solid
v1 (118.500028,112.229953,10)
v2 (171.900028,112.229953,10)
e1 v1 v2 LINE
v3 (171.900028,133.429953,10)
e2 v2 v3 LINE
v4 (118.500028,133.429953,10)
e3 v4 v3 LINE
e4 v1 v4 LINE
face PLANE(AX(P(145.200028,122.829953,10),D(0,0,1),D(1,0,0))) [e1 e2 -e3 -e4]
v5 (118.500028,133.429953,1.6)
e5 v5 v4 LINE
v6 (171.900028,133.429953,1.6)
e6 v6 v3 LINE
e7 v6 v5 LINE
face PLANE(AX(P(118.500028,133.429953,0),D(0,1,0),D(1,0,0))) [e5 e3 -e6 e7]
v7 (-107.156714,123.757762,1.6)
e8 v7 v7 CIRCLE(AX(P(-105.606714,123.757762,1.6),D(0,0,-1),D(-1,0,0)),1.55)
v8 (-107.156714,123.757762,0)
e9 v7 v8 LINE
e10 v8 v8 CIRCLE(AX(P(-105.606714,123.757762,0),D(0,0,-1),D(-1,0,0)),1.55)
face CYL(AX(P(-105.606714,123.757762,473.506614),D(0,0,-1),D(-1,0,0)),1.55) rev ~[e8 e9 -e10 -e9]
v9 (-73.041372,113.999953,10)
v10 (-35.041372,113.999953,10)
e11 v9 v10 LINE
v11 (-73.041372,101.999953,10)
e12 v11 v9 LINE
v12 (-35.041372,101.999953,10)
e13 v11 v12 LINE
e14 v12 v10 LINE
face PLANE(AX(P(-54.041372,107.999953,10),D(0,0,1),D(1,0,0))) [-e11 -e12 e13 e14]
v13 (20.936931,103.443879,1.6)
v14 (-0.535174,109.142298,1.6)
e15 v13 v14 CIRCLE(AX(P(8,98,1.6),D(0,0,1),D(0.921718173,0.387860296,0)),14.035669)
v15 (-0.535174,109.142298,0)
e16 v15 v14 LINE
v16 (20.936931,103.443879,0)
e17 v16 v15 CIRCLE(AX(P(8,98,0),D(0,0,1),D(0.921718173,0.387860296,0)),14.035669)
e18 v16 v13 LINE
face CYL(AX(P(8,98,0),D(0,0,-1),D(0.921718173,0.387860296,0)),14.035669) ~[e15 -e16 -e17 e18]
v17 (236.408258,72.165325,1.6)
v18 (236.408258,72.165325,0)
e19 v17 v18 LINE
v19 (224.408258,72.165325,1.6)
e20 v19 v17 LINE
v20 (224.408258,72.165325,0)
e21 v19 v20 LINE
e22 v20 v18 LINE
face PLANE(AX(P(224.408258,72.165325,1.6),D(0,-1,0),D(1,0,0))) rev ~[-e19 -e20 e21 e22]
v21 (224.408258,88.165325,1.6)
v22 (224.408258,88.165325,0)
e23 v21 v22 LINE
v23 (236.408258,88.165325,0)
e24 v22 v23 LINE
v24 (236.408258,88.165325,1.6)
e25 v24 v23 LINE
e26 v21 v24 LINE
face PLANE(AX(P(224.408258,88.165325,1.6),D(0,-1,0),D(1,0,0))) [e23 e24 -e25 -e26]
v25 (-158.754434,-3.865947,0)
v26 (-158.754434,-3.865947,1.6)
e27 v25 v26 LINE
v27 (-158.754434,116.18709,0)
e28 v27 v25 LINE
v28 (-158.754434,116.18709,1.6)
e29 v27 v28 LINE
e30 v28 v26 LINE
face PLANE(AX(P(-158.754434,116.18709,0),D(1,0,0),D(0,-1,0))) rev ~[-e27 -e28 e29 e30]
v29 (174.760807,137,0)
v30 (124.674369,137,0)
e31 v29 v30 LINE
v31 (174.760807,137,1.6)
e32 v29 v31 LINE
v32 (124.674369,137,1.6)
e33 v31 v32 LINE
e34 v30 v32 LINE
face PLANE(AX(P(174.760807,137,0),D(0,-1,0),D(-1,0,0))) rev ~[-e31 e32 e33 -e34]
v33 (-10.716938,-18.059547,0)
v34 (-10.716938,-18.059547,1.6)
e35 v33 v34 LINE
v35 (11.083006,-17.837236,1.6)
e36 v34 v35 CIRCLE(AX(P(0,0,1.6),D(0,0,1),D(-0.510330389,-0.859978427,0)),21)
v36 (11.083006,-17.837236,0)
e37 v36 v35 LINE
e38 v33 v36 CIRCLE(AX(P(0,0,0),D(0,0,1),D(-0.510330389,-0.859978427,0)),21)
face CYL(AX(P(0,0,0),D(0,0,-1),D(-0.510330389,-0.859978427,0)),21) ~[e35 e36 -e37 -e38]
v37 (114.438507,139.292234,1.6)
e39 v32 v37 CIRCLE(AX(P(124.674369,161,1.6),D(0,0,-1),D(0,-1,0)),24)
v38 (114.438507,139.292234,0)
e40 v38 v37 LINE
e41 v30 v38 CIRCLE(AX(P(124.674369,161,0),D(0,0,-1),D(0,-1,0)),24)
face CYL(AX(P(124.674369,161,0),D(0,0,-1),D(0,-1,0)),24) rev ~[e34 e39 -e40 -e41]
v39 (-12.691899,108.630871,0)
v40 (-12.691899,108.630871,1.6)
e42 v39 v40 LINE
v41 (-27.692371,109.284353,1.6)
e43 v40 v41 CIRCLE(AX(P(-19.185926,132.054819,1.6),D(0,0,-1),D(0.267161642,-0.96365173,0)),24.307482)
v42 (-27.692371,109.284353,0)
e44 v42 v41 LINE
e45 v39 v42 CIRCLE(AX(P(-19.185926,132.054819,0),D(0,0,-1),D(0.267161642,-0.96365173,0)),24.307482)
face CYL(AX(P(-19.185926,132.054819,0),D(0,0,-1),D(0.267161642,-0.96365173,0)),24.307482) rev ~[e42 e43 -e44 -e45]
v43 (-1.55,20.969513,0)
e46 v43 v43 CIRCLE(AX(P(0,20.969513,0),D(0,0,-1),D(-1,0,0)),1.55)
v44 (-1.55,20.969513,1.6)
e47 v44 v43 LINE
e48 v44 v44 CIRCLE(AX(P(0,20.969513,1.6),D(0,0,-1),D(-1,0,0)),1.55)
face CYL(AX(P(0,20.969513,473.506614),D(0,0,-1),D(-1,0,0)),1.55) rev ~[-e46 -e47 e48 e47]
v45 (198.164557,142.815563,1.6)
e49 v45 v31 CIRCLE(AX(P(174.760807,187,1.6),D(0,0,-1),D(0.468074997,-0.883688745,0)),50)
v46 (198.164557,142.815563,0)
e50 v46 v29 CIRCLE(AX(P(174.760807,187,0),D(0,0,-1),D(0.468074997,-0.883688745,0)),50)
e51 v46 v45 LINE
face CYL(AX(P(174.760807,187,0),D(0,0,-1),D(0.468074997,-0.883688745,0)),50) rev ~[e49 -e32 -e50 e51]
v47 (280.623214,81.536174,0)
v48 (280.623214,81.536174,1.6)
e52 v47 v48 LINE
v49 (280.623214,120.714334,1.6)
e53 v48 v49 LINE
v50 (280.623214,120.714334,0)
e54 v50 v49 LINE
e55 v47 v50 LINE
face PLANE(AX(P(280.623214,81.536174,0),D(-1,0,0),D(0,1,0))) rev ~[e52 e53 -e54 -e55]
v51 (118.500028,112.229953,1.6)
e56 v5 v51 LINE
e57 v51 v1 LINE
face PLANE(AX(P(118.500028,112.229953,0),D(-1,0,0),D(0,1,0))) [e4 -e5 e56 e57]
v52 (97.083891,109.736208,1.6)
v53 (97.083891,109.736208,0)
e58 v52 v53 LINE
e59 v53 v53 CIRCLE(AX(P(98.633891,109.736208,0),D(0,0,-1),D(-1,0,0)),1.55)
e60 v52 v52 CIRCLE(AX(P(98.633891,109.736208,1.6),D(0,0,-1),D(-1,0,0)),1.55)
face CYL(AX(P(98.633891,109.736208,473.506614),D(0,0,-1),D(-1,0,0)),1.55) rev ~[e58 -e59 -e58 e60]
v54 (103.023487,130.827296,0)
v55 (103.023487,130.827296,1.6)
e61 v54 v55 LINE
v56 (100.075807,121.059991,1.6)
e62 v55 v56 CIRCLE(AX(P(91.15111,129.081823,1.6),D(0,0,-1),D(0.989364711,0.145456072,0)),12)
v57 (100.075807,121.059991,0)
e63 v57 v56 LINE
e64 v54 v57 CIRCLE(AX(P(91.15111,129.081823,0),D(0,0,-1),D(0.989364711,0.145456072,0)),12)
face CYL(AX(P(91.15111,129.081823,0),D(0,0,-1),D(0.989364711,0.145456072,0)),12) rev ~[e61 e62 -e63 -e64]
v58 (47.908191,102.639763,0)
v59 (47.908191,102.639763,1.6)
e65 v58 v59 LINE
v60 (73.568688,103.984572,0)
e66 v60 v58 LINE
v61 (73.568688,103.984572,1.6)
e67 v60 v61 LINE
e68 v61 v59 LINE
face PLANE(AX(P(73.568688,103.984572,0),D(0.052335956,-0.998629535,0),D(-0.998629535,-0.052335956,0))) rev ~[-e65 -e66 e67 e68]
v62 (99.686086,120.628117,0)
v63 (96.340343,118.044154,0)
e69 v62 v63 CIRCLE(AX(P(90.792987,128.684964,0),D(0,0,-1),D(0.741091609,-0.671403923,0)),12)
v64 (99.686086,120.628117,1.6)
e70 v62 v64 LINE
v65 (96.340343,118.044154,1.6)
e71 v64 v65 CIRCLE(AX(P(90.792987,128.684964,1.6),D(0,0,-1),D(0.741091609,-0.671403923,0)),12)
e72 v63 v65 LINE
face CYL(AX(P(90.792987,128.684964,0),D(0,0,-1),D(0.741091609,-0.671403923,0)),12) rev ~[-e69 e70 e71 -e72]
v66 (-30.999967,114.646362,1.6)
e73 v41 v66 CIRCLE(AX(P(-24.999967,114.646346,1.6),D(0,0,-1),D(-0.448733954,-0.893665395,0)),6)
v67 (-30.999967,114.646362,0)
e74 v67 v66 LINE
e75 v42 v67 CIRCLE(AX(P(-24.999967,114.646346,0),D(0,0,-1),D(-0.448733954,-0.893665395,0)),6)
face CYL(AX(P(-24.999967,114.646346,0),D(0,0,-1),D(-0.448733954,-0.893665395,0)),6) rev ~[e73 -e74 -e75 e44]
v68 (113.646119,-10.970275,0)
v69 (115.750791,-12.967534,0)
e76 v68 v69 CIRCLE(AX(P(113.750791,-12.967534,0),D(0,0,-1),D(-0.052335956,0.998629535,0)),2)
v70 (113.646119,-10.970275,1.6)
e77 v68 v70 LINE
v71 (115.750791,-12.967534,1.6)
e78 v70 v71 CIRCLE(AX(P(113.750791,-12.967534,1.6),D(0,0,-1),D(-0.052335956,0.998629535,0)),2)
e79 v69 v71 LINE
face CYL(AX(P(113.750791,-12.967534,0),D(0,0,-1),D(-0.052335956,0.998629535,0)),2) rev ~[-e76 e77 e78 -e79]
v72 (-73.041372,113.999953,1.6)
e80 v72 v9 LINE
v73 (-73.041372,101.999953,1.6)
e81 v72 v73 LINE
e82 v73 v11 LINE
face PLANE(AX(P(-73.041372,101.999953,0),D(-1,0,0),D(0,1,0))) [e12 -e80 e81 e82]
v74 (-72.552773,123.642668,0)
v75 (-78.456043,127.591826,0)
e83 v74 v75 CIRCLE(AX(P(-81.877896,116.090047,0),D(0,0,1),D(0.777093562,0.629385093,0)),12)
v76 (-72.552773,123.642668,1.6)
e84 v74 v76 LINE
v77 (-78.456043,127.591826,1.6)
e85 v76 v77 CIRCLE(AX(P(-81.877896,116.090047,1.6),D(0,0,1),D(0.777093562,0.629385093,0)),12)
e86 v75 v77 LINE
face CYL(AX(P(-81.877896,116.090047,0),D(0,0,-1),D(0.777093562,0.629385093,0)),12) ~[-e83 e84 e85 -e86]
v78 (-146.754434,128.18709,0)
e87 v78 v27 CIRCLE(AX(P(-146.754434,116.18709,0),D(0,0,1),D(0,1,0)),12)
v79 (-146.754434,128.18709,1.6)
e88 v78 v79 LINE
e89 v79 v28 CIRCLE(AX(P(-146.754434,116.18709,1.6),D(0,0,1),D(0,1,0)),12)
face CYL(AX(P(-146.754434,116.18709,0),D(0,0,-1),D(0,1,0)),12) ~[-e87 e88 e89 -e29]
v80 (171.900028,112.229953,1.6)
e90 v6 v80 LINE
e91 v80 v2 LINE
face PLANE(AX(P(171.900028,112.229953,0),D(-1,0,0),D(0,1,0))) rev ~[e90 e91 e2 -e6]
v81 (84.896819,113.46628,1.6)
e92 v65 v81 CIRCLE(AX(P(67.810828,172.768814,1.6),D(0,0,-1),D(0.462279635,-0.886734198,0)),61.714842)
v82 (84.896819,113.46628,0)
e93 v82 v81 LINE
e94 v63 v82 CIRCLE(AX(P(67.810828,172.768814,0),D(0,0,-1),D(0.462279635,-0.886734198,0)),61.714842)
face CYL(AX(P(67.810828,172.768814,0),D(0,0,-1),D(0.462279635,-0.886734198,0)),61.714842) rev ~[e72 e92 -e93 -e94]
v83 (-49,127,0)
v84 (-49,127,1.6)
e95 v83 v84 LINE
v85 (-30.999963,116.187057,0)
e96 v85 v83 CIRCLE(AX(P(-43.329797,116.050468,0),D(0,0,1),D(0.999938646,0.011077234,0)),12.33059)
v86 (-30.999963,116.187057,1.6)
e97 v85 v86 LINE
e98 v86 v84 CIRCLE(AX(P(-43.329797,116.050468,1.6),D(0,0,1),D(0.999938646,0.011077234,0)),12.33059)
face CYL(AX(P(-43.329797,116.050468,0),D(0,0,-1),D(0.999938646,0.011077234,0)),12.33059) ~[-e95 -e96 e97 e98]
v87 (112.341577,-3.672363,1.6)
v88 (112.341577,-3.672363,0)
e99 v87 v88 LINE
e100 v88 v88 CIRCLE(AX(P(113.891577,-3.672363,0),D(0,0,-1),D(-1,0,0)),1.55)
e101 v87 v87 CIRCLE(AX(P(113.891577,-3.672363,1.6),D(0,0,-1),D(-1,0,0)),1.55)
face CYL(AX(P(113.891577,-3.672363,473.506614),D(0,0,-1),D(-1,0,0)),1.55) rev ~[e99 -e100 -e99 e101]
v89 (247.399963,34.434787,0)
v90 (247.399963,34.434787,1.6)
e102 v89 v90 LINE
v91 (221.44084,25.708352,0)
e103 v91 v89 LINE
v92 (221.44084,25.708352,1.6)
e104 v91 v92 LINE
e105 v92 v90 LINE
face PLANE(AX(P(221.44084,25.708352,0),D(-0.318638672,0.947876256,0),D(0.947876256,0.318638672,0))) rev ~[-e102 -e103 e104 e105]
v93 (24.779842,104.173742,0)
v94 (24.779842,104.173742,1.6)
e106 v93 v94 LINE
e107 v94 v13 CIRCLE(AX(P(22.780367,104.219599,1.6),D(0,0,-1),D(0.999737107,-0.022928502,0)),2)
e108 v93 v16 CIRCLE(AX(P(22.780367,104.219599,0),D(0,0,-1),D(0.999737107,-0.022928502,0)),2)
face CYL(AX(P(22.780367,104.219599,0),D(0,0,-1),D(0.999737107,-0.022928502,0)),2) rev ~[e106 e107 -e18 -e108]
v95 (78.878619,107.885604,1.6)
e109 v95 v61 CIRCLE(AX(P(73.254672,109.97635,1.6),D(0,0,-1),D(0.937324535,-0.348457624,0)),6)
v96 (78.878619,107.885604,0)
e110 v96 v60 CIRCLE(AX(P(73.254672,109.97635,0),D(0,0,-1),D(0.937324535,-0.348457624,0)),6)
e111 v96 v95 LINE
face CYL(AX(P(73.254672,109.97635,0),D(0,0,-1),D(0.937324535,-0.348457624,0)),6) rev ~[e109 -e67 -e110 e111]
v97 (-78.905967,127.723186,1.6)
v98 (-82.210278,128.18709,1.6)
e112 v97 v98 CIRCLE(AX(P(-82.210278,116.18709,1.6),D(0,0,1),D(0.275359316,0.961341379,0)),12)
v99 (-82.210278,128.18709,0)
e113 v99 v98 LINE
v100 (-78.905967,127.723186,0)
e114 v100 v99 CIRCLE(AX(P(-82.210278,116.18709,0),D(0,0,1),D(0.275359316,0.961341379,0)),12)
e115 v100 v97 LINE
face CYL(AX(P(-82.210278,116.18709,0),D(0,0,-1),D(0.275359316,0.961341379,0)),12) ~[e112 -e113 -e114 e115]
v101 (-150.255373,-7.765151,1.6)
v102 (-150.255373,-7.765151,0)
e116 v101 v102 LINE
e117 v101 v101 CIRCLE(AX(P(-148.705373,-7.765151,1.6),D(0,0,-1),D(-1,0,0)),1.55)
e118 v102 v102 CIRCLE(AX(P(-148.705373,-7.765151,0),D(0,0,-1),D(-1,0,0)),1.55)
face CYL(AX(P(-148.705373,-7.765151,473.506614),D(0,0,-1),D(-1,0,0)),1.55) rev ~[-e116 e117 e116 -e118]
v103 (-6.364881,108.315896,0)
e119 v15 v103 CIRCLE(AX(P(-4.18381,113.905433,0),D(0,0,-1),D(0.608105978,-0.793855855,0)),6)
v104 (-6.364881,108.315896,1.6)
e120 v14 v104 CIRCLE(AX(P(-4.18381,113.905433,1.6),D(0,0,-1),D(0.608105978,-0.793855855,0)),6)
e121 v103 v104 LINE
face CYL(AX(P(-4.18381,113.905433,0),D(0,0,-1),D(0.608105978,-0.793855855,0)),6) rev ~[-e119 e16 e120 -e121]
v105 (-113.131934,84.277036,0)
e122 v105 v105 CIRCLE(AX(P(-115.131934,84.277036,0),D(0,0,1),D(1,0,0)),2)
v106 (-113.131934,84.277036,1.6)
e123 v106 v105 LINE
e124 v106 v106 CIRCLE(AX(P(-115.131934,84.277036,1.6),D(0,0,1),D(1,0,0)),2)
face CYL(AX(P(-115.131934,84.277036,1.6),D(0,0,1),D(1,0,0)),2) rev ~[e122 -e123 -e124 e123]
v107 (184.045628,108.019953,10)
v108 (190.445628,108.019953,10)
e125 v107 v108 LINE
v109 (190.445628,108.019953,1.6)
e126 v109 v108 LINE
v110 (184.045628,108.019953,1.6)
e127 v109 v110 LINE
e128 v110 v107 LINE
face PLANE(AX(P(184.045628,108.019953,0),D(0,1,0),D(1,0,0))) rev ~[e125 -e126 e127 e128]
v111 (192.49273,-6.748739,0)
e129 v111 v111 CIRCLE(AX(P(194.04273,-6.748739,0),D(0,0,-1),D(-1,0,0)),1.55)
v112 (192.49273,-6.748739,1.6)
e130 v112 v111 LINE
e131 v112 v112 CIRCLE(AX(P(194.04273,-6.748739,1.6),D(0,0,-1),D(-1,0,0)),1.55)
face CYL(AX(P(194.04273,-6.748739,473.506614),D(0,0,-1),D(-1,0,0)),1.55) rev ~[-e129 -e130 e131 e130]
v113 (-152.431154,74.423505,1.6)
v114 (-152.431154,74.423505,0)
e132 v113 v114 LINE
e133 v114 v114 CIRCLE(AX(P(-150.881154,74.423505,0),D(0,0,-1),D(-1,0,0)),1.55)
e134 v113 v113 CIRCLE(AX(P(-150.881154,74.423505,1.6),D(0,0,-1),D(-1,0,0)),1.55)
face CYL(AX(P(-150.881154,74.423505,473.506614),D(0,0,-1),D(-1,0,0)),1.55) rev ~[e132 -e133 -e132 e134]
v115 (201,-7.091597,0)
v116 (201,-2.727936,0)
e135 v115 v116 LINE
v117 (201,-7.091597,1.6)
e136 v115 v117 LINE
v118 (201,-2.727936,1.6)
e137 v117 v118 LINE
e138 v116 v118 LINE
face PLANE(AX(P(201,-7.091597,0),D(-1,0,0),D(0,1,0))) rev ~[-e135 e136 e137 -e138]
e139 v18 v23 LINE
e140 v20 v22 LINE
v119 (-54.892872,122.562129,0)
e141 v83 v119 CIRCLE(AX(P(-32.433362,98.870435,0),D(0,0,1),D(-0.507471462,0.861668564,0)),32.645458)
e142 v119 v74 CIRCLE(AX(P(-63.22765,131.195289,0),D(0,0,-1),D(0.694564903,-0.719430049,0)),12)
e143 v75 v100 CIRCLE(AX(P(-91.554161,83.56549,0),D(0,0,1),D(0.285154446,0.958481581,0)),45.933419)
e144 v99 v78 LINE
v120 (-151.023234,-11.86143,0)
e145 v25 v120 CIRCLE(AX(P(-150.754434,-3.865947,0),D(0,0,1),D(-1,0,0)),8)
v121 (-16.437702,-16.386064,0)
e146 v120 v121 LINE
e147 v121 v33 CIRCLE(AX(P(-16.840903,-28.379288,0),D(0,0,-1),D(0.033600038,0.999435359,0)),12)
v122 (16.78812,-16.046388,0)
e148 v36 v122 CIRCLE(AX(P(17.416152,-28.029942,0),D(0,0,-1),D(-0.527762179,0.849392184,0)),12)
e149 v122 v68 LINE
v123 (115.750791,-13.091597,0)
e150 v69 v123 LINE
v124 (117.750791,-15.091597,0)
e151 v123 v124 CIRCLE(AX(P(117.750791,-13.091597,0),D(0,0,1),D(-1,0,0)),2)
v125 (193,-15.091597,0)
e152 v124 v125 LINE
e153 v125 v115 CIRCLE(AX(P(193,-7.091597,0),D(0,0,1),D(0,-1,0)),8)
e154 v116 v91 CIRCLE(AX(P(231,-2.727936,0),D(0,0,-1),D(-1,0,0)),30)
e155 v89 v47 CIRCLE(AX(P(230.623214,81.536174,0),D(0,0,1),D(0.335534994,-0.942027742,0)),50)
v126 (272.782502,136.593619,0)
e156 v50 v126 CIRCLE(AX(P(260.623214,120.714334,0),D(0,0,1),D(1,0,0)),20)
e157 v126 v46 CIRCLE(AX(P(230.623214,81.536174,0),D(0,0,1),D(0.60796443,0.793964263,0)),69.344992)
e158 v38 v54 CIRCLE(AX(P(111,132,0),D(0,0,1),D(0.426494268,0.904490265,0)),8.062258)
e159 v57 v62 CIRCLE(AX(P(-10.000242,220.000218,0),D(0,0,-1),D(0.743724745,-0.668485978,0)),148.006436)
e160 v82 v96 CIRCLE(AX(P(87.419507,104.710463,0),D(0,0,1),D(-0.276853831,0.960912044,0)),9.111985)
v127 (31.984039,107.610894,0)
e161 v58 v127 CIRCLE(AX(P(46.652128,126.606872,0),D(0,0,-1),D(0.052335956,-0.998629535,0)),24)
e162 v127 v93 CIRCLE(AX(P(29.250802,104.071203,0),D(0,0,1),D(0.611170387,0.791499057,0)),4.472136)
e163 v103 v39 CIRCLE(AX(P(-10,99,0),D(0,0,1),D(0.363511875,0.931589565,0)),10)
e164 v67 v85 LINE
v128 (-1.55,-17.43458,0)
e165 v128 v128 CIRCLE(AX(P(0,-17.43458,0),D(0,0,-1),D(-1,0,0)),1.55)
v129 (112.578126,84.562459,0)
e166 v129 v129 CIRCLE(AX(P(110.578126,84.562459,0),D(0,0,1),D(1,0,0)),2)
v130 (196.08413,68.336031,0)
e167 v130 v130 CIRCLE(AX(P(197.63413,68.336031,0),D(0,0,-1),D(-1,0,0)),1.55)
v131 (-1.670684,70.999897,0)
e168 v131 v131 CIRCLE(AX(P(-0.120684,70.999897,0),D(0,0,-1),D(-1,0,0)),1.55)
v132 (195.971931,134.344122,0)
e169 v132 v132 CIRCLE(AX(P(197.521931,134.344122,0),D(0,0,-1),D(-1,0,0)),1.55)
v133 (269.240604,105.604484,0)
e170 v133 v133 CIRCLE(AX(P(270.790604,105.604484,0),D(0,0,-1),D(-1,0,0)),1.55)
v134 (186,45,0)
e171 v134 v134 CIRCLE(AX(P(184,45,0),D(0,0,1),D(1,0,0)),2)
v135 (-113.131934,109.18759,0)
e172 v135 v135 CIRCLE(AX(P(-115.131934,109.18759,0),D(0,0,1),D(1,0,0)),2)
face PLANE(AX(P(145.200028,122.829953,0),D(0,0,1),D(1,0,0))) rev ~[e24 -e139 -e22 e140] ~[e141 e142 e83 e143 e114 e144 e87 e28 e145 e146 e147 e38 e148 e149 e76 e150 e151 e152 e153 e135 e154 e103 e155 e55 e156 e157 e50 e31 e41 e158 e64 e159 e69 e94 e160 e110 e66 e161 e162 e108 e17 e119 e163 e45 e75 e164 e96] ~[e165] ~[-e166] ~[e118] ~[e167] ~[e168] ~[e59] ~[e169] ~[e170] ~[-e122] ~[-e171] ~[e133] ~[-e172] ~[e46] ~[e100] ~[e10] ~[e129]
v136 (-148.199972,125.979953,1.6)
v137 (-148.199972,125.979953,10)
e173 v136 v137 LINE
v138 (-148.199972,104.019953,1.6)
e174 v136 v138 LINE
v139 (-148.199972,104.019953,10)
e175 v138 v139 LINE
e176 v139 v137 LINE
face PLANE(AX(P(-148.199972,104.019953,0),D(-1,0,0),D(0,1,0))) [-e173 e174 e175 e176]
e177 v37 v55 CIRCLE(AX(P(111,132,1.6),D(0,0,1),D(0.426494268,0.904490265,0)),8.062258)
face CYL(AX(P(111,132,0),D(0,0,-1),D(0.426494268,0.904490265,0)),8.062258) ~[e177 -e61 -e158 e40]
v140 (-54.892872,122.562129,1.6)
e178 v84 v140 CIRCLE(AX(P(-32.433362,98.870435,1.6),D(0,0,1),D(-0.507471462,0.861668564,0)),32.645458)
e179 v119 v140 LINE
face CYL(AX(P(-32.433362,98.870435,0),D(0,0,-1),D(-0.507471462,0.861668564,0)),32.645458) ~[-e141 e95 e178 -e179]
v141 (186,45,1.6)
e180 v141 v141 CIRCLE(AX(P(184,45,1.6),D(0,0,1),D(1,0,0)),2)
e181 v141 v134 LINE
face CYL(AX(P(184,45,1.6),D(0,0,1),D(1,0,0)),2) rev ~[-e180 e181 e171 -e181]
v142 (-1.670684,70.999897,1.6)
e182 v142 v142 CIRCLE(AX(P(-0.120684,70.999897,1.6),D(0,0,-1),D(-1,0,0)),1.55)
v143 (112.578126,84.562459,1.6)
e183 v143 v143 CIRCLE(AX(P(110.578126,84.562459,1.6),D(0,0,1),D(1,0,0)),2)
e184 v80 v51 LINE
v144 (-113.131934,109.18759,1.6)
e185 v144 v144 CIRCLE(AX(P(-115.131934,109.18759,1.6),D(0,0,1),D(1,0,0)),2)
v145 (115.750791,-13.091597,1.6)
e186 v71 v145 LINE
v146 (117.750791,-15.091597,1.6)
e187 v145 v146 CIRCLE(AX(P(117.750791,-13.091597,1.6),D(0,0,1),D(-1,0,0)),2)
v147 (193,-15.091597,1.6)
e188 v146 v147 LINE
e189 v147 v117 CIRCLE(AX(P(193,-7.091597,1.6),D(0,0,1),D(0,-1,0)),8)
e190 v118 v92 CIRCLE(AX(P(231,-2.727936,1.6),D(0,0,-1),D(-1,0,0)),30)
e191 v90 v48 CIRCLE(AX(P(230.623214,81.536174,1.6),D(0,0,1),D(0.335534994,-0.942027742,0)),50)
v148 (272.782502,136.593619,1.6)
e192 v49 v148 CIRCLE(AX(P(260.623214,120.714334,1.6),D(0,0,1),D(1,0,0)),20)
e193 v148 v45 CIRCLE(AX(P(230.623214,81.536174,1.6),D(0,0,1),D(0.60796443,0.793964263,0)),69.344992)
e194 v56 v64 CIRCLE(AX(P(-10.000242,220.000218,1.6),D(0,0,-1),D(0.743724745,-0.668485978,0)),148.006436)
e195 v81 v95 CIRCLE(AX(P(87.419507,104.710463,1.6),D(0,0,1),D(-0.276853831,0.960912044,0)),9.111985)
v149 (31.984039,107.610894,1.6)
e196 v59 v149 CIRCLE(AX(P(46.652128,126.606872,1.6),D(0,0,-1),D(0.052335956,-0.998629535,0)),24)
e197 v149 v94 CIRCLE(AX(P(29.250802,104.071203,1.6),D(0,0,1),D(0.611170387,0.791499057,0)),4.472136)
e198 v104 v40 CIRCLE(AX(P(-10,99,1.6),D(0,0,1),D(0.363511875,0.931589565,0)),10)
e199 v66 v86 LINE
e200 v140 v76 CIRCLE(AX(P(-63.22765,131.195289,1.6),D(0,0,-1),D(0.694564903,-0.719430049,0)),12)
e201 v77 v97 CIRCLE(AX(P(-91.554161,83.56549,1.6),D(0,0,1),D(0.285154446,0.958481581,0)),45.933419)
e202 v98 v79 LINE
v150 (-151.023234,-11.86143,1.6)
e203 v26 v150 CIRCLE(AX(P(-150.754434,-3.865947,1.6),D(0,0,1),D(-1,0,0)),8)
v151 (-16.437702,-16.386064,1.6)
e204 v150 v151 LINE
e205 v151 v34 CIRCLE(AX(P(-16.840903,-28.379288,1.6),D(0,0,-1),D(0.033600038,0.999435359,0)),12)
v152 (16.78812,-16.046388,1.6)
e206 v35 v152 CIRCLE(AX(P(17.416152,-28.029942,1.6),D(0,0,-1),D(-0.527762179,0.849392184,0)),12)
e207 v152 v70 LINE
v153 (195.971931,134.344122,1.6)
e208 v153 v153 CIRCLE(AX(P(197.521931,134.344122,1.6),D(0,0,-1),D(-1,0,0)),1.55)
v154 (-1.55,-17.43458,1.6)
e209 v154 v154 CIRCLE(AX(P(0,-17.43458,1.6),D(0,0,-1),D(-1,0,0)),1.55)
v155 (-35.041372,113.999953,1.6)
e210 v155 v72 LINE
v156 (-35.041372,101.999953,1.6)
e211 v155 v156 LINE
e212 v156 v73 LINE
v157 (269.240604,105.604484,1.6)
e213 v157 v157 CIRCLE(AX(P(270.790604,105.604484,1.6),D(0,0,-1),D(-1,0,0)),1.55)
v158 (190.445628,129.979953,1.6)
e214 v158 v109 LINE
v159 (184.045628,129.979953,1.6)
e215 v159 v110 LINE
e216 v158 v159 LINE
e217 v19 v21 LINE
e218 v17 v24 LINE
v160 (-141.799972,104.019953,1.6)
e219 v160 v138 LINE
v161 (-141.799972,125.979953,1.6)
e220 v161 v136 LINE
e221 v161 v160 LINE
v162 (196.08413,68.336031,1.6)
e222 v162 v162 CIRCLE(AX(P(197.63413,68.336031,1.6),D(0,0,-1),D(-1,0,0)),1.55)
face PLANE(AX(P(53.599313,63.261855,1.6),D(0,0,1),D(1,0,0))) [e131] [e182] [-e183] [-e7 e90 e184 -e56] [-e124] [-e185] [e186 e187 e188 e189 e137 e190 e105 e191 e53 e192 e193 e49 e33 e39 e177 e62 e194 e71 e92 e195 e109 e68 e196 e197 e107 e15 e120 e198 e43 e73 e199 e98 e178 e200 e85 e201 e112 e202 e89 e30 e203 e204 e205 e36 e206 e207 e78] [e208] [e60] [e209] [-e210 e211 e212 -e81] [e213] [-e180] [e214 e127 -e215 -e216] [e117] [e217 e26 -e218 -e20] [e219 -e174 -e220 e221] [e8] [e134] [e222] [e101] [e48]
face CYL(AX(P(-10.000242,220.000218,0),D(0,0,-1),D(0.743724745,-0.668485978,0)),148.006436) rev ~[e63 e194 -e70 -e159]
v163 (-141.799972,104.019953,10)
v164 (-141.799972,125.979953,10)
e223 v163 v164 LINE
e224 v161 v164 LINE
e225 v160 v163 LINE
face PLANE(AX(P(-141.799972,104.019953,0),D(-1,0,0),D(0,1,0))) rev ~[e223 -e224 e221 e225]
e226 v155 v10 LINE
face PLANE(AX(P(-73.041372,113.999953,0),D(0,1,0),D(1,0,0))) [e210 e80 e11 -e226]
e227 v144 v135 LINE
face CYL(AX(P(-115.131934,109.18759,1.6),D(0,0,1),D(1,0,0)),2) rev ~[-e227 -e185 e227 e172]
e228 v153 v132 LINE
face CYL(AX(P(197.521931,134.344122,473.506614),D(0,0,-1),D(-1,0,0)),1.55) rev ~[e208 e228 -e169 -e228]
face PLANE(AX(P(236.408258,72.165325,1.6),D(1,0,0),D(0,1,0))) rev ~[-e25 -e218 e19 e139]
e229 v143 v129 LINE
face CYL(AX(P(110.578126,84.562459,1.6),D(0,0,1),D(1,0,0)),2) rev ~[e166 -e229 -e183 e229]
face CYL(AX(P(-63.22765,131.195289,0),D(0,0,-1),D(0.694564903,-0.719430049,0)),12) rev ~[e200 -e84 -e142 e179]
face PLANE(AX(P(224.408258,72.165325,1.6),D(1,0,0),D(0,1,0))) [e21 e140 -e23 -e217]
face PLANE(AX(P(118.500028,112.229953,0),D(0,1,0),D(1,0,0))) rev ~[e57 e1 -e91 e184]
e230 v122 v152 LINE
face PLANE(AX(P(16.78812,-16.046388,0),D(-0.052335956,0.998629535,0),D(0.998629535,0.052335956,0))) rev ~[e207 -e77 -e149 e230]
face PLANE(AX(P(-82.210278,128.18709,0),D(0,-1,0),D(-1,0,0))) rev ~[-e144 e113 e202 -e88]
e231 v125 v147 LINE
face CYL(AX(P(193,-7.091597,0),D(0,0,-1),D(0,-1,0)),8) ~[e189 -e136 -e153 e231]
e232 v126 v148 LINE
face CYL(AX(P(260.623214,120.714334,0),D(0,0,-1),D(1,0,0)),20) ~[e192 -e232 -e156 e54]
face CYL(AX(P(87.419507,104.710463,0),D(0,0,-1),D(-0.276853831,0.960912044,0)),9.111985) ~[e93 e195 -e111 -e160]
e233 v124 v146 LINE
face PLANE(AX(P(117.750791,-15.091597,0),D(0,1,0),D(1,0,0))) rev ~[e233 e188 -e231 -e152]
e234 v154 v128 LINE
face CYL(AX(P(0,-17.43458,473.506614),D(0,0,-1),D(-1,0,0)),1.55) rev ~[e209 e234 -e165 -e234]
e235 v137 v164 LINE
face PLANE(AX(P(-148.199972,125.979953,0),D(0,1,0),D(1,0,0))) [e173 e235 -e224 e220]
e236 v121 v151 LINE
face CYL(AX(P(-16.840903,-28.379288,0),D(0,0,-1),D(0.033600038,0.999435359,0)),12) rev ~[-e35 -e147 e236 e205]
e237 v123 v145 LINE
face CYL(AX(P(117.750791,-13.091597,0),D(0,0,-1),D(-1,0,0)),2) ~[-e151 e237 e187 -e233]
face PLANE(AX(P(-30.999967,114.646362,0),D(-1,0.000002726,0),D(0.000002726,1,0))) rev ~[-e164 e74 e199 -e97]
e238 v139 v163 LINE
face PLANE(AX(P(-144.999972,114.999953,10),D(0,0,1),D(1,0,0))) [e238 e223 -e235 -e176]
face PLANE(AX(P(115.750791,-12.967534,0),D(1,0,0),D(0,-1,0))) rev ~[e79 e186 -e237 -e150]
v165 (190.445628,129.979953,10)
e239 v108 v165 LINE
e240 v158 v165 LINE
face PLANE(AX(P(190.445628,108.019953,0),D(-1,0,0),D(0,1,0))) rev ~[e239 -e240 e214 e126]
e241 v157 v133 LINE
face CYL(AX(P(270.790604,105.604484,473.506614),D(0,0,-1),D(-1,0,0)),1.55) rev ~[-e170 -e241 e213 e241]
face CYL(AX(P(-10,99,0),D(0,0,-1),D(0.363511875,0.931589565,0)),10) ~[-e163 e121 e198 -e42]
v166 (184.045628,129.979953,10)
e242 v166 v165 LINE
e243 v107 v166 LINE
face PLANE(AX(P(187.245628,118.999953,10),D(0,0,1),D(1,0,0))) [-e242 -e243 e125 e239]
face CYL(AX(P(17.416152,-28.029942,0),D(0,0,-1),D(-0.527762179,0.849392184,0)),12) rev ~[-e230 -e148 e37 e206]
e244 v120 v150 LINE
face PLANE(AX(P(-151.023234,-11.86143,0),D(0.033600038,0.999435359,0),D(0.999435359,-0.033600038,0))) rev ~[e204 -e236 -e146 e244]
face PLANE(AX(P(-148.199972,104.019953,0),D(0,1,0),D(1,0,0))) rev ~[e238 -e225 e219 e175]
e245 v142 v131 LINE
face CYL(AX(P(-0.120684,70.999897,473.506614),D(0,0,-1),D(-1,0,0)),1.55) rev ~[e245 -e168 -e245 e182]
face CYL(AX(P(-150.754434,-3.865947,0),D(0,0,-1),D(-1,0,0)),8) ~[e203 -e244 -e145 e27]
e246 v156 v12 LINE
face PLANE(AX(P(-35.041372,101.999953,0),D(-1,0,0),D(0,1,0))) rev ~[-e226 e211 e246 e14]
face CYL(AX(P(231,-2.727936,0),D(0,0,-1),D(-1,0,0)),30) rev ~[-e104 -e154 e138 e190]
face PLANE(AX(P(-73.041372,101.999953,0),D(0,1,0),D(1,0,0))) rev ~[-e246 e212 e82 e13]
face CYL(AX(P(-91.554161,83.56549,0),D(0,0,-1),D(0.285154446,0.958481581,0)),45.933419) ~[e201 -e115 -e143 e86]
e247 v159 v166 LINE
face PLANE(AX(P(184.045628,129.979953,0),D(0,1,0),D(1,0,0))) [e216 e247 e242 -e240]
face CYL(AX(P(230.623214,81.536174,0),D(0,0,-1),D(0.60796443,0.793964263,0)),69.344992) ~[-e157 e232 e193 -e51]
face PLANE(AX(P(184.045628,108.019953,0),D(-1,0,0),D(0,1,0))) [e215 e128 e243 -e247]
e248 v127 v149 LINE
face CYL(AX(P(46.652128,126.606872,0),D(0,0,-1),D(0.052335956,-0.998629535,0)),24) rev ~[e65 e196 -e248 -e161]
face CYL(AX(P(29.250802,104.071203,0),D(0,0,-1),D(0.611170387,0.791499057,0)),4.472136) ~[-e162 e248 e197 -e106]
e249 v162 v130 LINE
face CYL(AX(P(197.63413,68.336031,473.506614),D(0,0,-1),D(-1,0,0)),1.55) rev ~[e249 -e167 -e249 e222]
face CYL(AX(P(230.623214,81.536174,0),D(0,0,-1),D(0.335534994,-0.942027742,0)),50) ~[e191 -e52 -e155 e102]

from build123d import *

# Parameters (mm, degrees)
ESTRUSIONE_ESTRUSIONE2_DEPTH = 1.6
SCHIZZO2_R                   = 2
TAGLIO_ESTRUSIONE1_DEPTH     = 10
SCHIZZO8_W                   = 53.4
SCHIZZO8_H                   = 21.2
SCHIZZO8_W_2                 = 6.4
SCHIZZO8_H_2                 = 21.96
SCHIZZO8_W_3                 = 38
SCHIZZO8_H_3                 = 12
ESTRUSIONE_ESTRUSIONE3_DEPTH = 10
FORO_3_1_3_1_1_D             = 3.1
SCHIZZO12_W                  = 12
SCHIZZO12_H                  = 16
TAGLIO_ESTRUSIONE2_DEPTH     = 10


with BuildPart() as part:
    # bordo2 → Estrusione-Estrusione2 (new body)
    with BuildSketch(Plane.XY):
        with BuildLine():
            Line((-158.754433684, 116.187089821), (-158.754433684, -3.865947122))
            ThreePointArc((-158.754433684, -3.865947122), (-156.505538032, -9.426954116), (-151.023233988, -11.861429997))
            Line((-151.023233988, -11.861429997), (-16.437702381, -16.386063763))
            ThreePointArc((-16.437702381, -16.386063763), (-13.471762347, -16.861957987), (-10.716938169, -18.059546957))
            ThreePointArc((-10.716938169, -18.059546957), (0.214142299, -20.99890814), (11.083005754, -17.837235869))
            ThreePointArc((11.083005754, -17.837235869), (13.822228864, -16.580762318), (16.788120425, -16.046387663))
            Line((16.788120425, -16.046387663), (113.64611863, -10.970275071))
            ThreePointArc((113.64611863, -10.970275071), (115.127499694, -11.516785399), (115.750790543, -12.967534141))
            Line((115.750790543, -12.967534141), (115.750790543, -13.091597346))
            ThreePointArc((115.750790543, -13.091597346), (116.336576981, -14.505810909), (117.750790543, -15.091597346))
            Line((117.750790543, -15.091597346), (193, -15.091597346))
            ThreePointArc((193, -15.091597346), (198.656854249, -12.748451596), (201, -7.091597346))
            Line((201, -7.091597346), (201, -2.727936118))
            ThreePointArc((201, -2.727936118), (206.640455622, 14.782420751), (221.440839847, 25.708351564))
            Line((221.440839847, 25.708351564), (247.399963271, 34.43478664))
            ThreePointArc((247.399963271, 34.43478664), (271.481734612, 52.716367083), (280.623213556, 81.536173764))
            Line((280.623213556, 81.536173764), (280.623213556, 120.714334058))
            ThreePointArc((280.623213556, 120.714334058), (278.556224626, 129.569113216), (272.782502161, 136.593619325))
            ThreePointArc((272.782502161, 136.593619325), (236.38547949, 150.641341579), (198.16455661, 142.815562768))
            ThreePointArc((198.16455661, 142.815562768), (186.818545747, 138.475666611), (174.760806771, 137))
            Line((174.760806771, 137), (124.67436916, 137))
            ThreePointArc((124.67436916, 137), (119.429676247, 137.580068398), (114.43850672, 139.292233645))
            ThreePointArc((114.43850672, 139.292233645), (106.197691209, 138.475942424), (103.023486693, 130.82729566))
            ThreePointArc((103.023486693, 130.82729566), (102.639348768, 125.614781735), (100.075807145, 121.059991103))
            ThreePointArc((100.075807145, 121.059991103), (99.881158934, 120.843862569), (99.686086367, 120.628116972))
            ThreePointArc((99.686086367, 120.628116972), (98.127896826, 119.187643435), (96.340342687, 118.044153663))
            ThreePointArc((96.340342687, 118.044153663), (90.73314925, 115.468824104), (84.896818522, 113.466279669))
            ThreePointArc((84.896818522, 113.466279669), (81.223809571, 111.391901357), (78.878619087, 107.885603918))
            ThreePointArc((78.878619087, 107.885603918), (76.807046099, 105.140996793), (73.568687614, 103.984572456))
            Line((73.568687614, 103.984572456), (47.908191181, 102.639762823))
            ThreePointArc((47.908191181, 102.639762823), (39.500299817, 103.697237213), (31.984038936, 107.610894282))
            ThreePointArc((31.984038936, 107.610894282), (27.325075003, 108.10748534), (24.779841609, 104.173742266))
            ThreePointArc((24.779841609, 104.173742266), (23.153545862, 102.254723235), (20.936931048, 103.443878677))
            ThreePointArc((20.936931048, 103.443878677), (11.600258518, 111.566065701), (-0.535174134, 109.142297901))
            ThreePointArc((-0.535174134, 109.142297901), (-3.341686704, 107.964824618), (-6.364881252, 108.315895646))
            ThreePointArc((-6.364881252, 108.315895646), (-9.502789582, 108.987631441), (-12.691899138, 108.630871146))
            ThreePointArc((-12.691899138, 108.630871146), (-20.24385632, 107.770369186), (-27.692371148, 109.284353259))
            ThreePointArc((-27.692371148, 109.284353259), (-30.106556798, 111.496306745), (-30.999967426, 114.646361987))
            Line((-30.999967426, 114.646361987), (-30.999963226, 116.187057109))
            ThreePointArc((-30.999963226, 116.187057109), (-36.980182385, 126.620513133), (-49, 127))
            ThreePointArc((-49, 127), (-52.072194014, 124.94805369), (-54.892871514, 122.562128679))
            ThreePointArc((-54.892871514, 122.562128679), (-63.960512309, 119.217688785), (-72.552773096, 123.642668149))
            ThreePointArc((-72.552773096, 123.642668149), (-75.205541561, 126.063997519), (-78.456042527, 127.591826018))
            ThreePointArc((-78.456042527, 127.591826018), (-78.680837, 127.65808008), (-78.905966578, 127.72318637))
            ThreePointArc((-78.905966578, 127.72318637), (-80.541919682, 128.070548042), (-82.210278367, 128.187089821))
            Line((-82.210278367, 128.187089821), (-146.754433684, 128.187089821))
            ThreePointArc((-146.754433684, 128.187089821), (-155.239715059, 124.672371195), (-158.754433684, 116.187089821))
        make_face()
    extrude(amount=ESTRUSIONE_ESTRUSIONE2_DEPTH)

    # Schizzo2 → Taglio-Estrusione1 (cut)
    with BuildSketch(Plane.XY.offset(1.6)):
        with Locations((110.578126436, 84.562458849)):
            Circle(SCHIZZO2_R)
        with Locations((184, 45)):
            Circle(SCHIZZO2_R)
        with Locations((-115.131933684, 84.277035982)):
            Circle(SCHIZZO2_R)
        with Locations((-115.131933684, 109.187589821)):
            Circle(SCHIZZO2_R)
    extrude(amount=-TAGLIO_ESTRUSIONE1_DEPTH, mode=Mode.SUBTRACT)

    # Schizzo8 → Estrusione-Estrusione3 (add)
    with BuildSketch(Plane.XY):
        with Locations((145.200028088, 122.829953321)):
            Rectangle(SCHIZZO8_W, SCHIZZO8_H)
        with Locations((-144.999971912, 114.999953321)):
            Rectangle(SCHIZZO8_W_2, SCHIZZO8_H_2)
        with Locations((187.245628088, 118.999953321)):
            Rectangle(SCHIZZO8_W_2, SCHIZZO8_H_2)
        with Locations((-54.041371912, 107.999953321)):
            Rectangle(SCHIZZO8_W_3, SCHIZZO8_H_3)
    extrude(amount=ESTRUSIONE_ESTRUSIONE3_DEPTH)

    # Foro Ø3.1 (3.1)-1 (through all)
    with Locations(Plane.XY.offset(1.6)):
        with Locations((-105.606713702, 123.757761503), (-150.881154472, 74.423504607), (-148.705373273, -7.765150729), (0, -17.434580106), (0, 20.969513485), (-0.120683654, 70.999897433), (98.633890728, 109.736207798), (197.634129984, 68.336031239), (194.042729825, -6.748739049), (113.891576714, -3.672362968), (270.790603772, 105.604483849), (197.521931264, 134.344122063)):
            Hole(FORO_3_1_3_1_1_D / 2)

    # Schizzo12 → Taglio-Estrusione2 (cut)
    with BuildSketch(Plane.XY.offset(1.6)):
        with Locations((230.408257616, 80.165324897)):
            Rectangle(SCHIZZO12_W, SCHIZZO12_H)
    extrude(amount=-TAGLIO_ESTRUSIONE2_DEPTH, mode=Mode.SUBTRACT)


solid = part.part
